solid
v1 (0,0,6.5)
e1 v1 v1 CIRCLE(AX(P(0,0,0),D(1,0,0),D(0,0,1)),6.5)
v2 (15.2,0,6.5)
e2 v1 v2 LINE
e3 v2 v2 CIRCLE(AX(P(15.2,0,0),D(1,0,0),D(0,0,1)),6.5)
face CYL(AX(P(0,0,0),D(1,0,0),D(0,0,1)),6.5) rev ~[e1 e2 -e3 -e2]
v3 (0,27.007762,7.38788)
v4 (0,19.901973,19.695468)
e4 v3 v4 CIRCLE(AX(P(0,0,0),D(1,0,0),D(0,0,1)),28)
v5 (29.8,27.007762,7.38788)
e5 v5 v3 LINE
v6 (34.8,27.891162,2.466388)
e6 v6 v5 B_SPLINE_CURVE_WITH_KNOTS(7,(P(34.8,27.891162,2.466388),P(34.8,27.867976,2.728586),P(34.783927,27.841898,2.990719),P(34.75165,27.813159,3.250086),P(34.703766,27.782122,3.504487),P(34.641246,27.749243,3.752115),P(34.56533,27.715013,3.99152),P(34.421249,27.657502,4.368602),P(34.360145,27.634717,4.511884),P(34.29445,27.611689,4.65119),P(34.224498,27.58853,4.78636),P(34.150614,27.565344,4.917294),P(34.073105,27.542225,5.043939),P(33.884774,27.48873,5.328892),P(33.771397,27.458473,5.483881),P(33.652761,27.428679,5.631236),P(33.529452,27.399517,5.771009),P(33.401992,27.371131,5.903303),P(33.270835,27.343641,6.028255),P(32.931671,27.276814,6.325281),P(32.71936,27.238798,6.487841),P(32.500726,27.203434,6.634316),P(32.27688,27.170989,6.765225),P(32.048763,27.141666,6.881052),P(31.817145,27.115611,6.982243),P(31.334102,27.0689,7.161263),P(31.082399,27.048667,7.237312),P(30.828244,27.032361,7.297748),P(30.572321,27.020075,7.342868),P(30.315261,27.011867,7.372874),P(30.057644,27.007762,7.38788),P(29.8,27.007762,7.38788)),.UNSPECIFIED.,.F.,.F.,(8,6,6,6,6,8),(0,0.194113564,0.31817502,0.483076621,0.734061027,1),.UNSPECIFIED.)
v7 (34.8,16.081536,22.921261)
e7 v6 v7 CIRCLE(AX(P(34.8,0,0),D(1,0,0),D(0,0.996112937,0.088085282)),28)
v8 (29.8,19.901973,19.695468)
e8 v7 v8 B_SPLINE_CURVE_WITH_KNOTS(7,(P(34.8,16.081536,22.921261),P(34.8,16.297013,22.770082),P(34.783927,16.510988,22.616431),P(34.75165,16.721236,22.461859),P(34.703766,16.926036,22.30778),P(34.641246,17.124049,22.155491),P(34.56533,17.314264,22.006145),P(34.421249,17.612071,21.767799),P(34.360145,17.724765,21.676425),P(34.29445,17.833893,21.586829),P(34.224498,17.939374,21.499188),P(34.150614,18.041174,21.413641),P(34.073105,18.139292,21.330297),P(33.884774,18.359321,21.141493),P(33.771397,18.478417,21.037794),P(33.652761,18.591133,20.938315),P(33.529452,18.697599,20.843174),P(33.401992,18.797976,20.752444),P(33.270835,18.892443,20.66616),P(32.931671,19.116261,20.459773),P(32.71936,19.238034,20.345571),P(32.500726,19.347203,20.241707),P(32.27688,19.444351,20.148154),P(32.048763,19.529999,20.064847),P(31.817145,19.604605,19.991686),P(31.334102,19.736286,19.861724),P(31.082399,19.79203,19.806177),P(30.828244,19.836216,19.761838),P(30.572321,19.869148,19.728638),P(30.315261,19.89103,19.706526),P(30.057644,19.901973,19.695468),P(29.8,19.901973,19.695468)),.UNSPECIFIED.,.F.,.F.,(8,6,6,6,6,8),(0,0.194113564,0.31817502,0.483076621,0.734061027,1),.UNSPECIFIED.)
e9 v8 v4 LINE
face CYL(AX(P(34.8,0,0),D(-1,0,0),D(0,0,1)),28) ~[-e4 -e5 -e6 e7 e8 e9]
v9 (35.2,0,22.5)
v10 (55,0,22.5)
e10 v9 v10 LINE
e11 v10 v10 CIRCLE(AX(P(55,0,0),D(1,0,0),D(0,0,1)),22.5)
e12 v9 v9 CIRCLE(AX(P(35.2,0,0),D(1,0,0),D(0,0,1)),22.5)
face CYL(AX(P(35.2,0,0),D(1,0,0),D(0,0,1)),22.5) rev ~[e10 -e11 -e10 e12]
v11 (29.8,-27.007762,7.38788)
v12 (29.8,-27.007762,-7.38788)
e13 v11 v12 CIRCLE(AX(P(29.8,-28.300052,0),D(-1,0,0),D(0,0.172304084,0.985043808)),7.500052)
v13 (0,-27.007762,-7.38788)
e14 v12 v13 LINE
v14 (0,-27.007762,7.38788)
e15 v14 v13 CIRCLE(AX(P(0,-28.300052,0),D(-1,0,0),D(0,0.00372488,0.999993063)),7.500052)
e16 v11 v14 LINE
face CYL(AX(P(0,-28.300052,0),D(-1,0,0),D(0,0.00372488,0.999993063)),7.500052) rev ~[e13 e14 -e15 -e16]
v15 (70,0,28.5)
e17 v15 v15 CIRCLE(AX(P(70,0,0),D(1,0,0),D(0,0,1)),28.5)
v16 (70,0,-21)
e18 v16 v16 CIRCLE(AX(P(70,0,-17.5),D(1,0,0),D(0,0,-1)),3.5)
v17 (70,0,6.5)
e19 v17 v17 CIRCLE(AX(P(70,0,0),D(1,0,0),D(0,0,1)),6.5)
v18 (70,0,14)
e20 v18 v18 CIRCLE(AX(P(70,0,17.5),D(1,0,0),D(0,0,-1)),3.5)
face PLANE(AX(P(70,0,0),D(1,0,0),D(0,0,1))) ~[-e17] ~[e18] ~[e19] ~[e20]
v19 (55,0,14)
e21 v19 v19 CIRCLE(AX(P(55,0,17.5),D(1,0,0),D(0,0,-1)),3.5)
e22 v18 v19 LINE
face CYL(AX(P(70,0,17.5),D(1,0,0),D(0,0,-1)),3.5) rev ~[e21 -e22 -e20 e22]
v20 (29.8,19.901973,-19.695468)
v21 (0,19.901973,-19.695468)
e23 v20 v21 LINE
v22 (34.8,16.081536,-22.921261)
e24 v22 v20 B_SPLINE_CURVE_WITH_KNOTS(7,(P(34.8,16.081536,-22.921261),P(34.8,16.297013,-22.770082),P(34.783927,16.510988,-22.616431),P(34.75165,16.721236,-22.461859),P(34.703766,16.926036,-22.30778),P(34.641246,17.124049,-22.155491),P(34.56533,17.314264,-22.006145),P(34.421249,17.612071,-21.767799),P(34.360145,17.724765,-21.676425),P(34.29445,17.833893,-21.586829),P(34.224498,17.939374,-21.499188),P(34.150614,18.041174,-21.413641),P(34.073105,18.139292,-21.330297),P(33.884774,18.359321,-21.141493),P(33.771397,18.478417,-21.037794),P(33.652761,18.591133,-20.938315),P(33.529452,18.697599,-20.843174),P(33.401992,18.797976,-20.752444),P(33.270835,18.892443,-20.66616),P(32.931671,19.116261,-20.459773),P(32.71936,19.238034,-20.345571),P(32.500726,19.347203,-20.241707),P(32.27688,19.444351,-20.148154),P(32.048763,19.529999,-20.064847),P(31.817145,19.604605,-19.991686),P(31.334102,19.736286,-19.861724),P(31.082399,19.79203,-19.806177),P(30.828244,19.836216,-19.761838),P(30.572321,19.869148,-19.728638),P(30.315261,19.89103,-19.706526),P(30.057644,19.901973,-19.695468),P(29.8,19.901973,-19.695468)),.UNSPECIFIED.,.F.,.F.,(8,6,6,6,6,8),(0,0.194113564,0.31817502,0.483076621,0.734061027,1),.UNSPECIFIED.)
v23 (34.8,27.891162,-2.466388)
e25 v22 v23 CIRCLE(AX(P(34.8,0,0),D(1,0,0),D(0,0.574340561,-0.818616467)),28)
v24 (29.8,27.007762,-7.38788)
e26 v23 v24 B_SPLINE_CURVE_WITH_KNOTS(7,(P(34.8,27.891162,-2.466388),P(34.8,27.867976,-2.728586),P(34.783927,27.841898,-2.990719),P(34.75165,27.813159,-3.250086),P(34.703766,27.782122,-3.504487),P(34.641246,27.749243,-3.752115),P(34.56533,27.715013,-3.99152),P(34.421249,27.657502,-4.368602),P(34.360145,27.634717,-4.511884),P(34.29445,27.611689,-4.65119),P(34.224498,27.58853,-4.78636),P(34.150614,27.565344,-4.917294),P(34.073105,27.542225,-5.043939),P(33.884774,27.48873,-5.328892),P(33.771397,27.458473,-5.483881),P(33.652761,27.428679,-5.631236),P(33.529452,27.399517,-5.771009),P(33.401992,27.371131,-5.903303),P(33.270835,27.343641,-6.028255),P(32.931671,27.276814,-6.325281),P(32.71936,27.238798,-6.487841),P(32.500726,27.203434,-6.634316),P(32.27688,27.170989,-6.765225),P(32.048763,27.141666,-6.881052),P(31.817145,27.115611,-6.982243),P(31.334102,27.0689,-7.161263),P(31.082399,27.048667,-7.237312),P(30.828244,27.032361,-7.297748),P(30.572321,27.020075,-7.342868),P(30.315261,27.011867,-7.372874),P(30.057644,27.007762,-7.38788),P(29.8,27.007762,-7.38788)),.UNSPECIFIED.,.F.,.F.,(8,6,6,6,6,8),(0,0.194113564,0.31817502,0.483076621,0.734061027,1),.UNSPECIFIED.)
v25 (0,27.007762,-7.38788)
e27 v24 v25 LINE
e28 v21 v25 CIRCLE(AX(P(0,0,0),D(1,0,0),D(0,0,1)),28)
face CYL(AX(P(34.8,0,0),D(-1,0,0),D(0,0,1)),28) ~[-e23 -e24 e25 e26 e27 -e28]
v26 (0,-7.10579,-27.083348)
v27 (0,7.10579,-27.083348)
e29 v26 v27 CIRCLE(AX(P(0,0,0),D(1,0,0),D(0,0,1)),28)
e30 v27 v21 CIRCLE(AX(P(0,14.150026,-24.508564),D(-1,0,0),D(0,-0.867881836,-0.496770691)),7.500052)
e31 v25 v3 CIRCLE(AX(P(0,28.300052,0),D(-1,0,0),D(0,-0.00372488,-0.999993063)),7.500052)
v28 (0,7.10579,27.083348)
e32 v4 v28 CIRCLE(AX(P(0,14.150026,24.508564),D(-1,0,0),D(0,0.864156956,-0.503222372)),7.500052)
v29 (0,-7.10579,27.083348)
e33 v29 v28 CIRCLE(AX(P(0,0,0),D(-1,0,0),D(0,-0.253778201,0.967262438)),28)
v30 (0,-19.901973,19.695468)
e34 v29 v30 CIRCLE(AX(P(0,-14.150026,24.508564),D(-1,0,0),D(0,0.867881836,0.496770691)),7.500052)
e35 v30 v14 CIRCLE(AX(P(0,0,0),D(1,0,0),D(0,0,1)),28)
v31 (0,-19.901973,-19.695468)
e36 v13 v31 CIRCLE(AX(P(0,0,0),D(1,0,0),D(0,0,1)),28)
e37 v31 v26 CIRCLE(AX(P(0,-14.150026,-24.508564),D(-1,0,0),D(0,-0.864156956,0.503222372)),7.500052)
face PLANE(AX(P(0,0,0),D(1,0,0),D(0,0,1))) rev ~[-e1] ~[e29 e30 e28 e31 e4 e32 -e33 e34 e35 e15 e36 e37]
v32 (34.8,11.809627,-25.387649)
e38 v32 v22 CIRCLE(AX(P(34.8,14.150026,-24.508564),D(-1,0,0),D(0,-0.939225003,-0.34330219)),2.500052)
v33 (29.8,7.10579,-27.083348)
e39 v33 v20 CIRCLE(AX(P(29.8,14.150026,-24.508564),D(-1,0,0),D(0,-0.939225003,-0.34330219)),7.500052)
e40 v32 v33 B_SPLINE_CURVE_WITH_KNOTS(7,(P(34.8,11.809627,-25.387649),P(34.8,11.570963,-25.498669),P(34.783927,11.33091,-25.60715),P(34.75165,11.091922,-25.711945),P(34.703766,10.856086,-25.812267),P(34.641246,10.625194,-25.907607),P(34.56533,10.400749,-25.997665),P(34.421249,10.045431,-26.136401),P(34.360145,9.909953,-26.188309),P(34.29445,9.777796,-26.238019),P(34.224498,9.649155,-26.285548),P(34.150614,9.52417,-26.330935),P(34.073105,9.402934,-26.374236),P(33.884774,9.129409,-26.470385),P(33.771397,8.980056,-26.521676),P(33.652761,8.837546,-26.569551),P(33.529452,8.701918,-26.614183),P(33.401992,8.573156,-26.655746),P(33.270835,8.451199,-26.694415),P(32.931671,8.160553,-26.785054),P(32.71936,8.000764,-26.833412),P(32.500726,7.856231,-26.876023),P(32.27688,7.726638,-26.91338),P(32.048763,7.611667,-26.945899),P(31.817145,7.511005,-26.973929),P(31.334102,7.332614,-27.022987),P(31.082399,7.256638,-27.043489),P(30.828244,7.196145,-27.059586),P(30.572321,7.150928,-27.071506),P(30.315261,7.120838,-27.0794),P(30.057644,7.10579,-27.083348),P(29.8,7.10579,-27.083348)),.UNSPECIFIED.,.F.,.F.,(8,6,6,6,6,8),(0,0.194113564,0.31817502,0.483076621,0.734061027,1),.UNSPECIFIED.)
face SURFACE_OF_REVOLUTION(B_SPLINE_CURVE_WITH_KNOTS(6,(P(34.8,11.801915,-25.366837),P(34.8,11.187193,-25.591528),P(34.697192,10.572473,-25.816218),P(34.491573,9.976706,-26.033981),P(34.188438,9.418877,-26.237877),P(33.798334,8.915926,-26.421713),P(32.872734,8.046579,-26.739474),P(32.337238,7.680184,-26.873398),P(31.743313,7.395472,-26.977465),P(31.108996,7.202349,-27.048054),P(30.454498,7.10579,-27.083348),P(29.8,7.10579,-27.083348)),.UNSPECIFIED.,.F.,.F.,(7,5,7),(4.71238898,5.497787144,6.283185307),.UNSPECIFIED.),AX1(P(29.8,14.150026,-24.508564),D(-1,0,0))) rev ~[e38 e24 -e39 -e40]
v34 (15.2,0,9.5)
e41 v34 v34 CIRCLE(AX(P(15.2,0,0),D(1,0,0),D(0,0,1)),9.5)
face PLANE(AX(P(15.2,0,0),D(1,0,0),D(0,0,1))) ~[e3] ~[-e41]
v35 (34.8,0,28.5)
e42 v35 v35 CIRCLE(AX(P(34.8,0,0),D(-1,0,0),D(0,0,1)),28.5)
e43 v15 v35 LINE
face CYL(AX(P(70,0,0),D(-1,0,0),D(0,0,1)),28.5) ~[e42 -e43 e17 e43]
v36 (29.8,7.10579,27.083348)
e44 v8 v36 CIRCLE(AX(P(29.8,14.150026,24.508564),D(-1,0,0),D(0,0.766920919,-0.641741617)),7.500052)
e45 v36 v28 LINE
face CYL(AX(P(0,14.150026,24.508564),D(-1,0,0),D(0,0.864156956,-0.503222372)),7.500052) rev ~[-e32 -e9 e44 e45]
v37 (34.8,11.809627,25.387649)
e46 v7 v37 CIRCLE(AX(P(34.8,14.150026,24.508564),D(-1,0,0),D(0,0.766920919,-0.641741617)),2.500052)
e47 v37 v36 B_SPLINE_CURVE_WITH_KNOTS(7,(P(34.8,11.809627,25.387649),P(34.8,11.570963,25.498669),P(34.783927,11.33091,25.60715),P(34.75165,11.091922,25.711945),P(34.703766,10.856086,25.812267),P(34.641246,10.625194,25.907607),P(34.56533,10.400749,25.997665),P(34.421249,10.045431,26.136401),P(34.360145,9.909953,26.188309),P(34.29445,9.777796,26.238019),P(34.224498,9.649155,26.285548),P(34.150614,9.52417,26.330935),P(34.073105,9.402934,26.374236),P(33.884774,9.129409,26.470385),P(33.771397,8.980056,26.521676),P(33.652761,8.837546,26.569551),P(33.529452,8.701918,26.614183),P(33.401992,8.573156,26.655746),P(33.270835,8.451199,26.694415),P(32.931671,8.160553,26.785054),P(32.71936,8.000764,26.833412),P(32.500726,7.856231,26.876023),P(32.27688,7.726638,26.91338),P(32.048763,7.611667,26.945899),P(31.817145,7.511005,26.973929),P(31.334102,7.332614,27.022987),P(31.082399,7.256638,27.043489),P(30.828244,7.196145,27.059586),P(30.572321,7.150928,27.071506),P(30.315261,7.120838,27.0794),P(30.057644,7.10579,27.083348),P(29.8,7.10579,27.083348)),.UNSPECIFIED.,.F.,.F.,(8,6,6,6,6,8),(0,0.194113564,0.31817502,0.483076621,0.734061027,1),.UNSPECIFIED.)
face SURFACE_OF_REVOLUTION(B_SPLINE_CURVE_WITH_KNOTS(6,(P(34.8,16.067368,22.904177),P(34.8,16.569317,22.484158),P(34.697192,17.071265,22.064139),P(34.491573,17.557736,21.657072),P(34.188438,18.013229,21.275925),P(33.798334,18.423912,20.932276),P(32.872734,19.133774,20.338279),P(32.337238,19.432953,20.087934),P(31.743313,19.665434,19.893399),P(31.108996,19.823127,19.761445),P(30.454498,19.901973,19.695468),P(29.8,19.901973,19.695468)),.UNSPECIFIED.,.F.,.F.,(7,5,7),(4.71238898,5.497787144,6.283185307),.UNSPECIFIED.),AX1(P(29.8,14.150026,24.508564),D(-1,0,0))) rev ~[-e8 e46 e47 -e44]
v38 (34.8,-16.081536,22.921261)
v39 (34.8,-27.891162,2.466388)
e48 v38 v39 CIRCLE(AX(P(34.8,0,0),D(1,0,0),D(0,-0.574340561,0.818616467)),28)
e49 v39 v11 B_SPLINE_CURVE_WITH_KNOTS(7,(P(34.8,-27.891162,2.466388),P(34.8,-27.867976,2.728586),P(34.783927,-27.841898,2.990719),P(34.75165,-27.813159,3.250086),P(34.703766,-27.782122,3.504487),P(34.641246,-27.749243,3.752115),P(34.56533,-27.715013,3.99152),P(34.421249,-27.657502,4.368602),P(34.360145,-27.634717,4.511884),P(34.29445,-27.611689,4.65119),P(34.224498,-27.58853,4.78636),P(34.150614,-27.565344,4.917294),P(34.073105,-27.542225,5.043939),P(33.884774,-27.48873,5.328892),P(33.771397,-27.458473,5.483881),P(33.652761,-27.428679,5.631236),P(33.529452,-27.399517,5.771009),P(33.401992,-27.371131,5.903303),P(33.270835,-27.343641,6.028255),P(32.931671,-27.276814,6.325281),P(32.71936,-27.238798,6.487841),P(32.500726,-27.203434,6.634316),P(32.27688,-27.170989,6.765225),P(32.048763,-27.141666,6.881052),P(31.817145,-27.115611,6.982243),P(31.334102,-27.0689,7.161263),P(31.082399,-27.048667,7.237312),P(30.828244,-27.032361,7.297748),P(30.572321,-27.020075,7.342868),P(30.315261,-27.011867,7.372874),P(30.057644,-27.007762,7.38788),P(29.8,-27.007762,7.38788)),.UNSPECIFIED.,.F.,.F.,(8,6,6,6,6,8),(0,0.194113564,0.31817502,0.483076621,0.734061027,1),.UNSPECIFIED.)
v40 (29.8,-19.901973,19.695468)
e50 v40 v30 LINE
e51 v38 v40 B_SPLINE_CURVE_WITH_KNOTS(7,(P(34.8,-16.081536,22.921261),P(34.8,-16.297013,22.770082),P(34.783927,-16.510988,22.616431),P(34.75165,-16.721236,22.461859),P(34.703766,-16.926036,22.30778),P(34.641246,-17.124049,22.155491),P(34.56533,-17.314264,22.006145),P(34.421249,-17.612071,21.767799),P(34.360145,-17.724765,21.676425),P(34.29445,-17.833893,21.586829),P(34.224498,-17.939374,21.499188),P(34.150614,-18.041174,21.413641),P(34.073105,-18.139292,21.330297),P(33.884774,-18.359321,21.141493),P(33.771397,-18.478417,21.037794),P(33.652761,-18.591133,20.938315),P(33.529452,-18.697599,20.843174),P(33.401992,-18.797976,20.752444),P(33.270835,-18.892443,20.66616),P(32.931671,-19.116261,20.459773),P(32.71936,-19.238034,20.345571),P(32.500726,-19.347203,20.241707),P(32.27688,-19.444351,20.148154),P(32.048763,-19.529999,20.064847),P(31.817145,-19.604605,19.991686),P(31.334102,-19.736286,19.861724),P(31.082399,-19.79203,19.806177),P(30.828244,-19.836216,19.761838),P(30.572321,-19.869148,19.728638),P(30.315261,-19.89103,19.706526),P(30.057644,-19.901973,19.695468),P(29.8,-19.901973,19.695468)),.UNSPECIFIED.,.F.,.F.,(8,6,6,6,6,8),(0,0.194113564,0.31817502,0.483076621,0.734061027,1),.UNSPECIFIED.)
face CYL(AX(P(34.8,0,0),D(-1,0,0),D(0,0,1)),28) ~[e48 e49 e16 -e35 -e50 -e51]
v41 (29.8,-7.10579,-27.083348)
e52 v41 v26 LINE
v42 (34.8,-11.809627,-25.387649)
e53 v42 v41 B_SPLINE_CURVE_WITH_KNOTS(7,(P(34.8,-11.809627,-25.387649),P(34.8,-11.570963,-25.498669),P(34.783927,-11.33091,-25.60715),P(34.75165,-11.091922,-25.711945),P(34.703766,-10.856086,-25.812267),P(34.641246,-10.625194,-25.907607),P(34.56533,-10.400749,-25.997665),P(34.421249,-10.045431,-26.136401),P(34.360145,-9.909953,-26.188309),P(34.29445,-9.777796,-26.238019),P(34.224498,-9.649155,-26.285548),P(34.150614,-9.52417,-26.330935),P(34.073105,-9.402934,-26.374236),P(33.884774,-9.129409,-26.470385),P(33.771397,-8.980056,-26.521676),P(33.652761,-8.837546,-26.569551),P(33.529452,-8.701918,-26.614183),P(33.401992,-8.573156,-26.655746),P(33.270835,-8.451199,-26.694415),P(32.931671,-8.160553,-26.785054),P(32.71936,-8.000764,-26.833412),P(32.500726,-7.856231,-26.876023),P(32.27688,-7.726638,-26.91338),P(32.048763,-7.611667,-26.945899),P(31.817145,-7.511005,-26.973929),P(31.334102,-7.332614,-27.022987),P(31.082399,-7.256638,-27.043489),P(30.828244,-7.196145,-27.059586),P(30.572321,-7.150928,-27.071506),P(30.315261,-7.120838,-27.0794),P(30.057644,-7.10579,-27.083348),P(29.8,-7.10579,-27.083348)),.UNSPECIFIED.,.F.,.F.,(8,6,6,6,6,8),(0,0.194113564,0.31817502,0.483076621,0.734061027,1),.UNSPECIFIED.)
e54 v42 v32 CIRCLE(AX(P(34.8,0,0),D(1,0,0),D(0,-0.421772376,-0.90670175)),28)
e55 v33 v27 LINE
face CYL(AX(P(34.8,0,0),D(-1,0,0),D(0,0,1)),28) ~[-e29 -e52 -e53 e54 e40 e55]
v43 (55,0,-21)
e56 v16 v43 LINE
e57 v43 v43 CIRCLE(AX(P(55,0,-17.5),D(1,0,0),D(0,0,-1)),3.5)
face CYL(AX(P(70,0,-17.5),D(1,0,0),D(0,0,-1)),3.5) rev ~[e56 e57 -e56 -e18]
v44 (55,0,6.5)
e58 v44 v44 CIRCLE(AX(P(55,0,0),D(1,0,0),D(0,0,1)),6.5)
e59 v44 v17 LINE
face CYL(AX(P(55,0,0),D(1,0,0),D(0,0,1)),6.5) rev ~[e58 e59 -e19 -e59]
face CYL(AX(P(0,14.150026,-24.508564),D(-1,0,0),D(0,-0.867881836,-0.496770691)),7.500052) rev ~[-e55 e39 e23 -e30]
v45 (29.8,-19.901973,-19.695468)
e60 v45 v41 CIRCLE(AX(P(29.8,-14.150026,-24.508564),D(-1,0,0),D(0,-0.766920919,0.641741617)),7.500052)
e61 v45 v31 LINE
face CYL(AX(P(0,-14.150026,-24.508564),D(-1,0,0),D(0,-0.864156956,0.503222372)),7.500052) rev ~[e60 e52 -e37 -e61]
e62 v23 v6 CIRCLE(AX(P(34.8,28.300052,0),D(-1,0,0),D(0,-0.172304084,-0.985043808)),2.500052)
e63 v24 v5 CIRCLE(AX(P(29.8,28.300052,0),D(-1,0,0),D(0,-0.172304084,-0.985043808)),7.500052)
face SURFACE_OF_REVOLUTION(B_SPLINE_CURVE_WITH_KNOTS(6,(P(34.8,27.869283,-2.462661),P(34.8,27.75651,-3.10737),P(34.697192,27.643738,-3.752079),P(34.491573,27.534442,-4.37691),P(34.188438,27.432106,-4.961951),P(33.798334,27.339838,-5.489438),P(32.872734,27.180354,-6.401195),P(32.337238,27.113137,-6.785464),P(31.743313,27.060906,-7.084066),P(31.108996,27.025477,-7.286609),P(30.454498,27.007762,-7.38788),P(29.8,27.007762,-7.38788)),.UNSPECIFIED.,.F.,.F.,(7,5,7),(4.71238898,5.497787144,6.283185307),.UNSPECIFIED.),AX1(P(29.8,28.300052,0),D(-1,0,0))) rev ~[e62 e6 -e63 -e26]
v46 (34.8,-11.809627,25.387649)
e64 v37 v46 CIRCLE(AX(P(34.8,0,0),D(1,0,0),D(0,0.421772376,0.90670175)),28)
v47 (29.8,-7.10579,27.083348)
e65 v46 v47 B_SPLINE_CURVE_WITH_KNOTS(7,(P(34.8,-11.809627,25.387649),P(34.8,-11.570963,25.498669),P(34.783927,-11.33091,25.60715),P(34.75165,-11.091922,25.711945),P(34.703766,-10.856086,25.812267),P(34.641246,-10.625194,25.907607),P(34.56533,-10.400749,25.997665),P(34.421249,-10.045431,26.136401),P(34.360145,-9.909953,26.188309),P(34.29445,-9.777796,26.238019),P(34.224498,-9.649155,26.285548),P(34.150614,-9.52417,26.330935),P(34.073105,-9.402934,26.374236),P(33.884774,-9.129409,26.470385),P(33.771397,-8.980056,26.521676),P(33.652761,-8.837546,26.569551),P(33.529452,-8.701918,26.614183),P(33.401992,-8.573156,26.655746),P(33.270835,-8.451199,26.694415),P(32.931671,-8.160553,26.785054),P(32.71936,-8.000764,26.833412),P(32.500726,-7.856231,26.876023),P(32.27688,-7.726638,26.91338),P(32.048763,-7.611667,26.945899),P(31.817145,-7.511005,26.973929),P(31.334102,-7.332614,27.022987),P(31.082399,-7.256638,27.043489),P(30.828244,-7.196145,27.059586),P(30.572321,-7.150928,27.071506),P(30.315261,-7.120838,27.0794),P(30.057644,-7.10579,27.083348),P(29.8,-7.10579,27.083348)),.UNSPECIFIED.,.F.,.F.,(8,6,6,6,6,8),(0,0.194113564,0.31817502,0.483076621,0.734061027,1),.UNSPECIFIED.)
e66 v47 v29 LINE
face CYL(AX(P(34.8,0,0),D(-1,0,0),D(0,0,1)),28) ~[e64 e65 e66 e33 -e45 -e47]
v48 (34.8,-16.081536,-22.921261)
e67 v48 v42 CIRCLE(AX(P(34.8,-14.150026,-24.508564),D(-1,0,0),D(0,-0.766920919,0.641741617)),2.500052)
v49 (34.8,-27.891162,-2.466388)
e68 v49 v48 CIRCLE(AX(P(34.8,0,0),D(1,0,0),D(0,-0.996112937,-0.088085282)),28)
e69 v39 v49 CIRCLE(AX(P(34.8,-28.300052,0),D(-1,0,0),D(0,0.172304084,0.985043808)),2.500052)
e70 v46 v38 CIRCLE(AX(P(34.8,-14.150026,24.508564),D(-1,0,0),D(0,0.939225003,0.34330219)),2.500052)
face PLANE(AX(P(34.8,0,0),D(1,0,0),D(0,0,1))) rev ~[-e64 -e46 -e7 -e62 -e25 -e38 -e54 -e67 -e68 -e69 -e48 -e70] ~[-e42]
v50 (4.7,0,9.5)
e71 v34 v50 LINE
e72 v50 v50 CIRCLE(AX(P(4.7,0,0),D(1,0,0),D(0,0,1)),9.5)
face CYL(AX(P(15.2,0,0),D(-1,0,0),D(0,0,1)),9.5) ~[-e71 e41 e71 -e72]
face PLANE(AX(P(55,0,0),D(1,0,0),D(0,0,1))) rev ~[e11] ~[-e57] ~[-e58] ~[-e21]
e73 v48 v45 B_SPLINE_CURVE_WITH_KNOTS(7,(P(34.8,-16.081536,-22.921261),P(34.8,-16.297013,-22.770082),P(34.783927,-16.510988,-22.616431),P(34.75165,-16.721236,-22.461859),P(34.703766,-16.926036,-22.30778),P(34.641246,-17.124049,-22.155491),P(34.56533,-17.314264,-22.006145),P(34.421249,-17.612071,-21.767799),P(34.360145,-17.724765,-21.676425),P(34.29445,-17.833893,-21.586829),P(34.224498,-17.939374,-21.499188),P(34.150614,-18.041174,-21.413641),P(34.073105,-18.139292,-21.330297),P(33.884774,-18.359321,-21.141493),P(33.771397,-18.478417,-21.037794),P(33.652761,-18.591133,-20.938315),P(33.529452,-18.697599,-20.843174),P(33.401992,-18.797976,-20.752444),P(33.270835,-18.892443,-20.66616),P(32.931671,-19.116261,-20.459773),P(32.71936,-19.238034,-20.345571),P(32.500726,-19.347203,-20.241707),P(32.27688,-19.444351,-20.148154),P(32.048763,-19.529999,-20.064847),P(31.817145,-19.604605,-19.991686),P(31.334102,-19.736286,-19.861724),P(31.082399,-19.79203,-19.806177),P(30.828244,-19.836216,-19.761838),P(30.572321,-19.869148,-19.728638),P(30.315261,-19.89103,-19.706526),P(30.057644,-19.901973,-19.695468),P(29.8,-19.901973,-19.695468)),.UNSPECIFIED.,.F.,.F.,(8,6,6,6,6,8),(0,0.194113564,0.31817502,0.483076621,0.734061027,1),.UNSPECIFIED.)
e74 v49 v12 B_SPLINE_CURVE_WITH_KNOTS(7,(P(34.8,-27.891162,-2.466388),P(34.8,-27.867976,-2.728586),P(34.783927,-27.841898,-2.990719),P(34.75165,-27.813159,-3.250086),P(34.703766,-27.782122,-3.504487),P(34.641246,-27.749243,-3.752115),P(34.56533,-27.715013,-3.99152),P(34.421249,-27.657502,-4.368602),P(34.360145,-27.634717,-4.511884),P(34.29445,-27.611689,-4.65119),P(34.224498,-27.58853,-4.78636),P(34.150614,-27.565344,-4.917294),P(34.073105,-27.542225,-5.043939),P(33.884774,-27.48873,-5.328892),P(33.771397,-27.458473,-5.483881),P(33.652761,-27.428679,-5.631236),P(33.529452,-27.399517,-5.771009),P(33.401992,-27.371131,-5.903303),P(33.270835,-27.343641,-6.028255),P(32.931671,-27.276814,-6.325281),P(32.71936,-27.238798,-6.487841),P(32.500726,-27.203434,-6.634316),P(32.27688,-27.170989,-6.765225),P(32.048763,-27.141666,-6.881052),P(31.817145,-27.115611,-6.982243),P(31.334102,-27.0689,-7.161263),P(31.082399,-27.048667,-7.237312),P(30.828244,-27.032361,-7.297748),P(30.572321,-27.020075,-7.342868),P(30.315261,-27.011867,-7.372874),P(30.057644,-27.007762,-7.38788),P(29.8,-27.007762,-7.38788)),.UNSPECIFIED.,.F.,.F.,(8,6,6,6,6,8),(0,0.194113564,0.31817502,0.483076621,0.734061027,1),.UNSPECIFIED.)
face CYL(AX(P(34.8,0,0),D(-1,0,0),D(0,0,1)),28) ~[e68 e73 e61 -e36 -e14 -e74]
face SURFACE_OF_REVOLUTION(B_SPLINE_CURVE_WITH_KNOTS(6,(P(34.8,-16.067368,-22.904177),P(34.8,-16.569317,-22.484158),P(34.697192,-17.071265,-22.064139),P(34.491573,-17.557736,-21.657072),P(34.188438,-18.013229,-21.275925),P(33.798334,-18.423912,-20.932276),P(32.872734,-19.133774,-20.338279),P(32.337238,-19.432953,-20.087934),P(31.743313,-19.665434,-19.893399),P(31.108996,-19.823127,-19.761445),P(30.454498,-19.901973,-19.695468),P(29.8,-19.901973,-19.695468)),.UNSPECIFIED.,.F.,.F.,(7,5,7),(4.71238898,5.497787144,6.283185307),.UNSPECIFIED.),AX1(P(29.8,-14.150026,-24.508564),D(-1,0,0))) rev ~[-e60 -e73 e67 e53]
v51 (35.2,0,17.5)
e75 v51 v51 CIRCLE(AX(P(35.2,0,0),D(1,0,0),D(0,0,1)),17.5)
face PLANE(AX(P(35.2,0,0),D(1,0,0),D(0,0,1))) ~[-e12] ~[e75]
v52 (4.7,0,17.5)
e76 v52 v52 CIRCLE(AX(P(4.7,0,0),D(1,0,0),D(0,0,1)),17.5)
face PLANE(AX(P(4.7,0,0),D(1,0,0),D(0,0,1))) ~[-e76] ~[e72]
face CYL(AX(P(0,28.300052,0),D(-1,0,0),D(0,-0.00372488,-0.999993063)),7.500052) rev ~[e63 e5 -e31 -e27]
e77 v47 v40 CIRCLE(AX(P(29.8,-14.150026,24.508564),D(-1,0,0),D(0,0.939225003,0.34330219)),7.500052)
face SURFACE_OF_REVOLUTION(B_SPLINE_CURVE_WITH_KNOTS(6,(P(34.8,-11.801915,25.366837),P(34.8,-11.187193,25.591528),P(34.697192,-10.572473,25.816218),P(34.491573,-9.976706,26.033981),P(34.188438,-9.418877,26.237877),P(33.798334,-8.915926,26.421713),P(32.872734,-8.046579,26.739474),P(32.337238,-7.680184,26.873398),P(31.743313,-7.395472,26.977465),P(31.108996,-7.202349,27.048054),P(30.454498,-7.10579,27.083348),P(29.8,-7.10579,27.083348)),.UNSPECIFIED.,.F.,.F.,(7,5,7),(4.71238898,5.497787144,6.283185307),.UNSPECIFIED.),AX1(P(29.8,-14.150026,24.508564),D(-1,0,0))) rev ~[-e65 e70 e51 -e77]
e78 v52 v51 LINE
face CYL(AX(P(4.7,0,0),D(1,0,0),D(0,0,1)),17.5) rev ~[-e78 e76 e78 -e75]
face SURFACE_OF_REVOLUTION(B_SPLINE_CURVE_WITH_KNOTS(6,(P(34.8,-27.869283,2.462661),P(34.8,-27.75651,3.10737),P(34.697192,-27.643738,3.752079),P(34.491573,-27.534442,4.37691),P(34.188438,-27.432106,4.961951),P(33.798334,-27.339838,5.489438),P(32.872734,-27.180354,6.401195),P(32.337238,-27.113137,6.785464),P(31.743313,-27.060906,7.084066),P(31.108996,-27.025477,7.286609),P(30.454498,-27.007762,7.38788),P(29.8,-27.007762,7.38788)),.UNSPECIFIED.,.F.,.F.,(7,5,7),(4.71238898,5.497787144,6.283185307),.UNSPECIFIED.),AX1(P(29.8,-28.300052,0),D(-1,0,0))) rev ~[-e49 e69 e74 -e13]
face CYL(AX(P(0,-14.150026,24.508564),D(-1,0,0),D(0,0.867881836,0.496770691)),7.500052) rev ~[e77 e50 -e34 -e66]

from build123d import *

# Parameters (mm, degrees)
CUT_EXTRUDE_1_DEPTH = 34.8
FILLET_1_R          = 5
CUT_EXTRUDE_2_REACH = 82.774
SKETCH_3_R          = 3.5


with BuildPart() as part:
    # Эскиз1 → Повернуть1 (revolve)
    with BuildSketch(Plane.XY, mode=Mode.PRIVATE) as revolve_1_sk:
        Polygon((0, 6.5), (15.2, 6.5), (15.2, 9.5), (4.7, 9.5), (4.7, 17.5), (35.2, 17.5), (35.2, 22.5), (55, 22.5), (55, 6.5), (70, 6.5), (70, 28.5), (34.8, 28.5), (34.8, 28), (0, 28), align=None)
    revolve(revolve_1_sk.sketch.rotate(Axis((-15.709814328, 0, 0), (1, 0, 0)), 90), axis=Axis((-15.709814328, 0, 0), (1, 0, 0)))

    # Эскиз2 → Вырез-Вытянуть1 (cut)
    with BuildSketch(Plane.ZY):
        with BuildLine():
            ThreePointArc((-7.5, 28.272115237), (0, 20.8), (7.5, 28.272115237))
            ThreePointArc((7.5, 28.272115237), (0, 29.25), (-7.5, 28.272115237))
        make_face()
        with BuildLine():
            ThreePointArc((20.734370014, 20.631248147), (18.013328399, 10.4), (28.234370014, 7.64086709))
            ThreePointArc((28.234370014, 7.64086709), (25.331243061, 14.625), (20.734370014, 20.631248147))
        make_face()
        with BuildLine():
            ThreePointArc((28.234370014, -7.64086709), (18.013328399, -10.4), (20.734370014, -20.631248147))
            ThreePointArc((20.734370014, -20.631248147), (25.331243061, -14.625), (28.234370014, -7.64086709))
        make_face()
        with BuildLine():
            ThreePointArc((7.5, -28.272115237), (0, -20.8), (-7.5, -28.272115237))
            ThreePointArc((-7.5, -28.272115237), (0, -29.25), (7.5, -28.272115237))
        make_face()
        with BuildLine():
            ThreePointArc((-20.734370014, -20.631248147), (-18.013328399, -10.4), (-28.234370014, -7.64086709))
            ThreePointArc((-28.234370014, -7.64086709), (-25.331243061, -14.625), (-20.734370014, -20.631248147))
        make_face()
        with BuildLine():
            ThreePointArc((-28.234370014, 7.64086709), (-18.013328399, 10.4), (-20.734370014, 20.631248147))
            ThreePointArc((-20.734370014, 20.631248147), (-25.331243061, 14.625), (-28.234370014, 7.64086709))
        make_face()
    extrude(amount=-CUT_EXTRUDE_1_DEPTH, mode=Mode.SUBTRACT)

    # Скругление1
    fillet_1_edges = [part.edges().sort_by_distance(p)[0] for p in [
        (34.8, 20.8, 0),
        (34.8, 10.4, 18.013328399),
        (34.8, -10.4, 18.013328399),
        (34.8, -20.8, 0),
        (34.8, -10.4, -18.013328399),
        (34.8, 10.4, -18.013328399),
    ]]
    fillet(fillet_1_edges, radius=FILLET_1_R)

    # Эскиз3 → Вырез-Вытянуть2 (cut, up to next)
    with BuildSketch(Plane(origin=(70, 0, 0), x_dir=(0, 0, -1), z_dir=(1, 0, 0)), mode=Mode.PRIVATE) as cut_extrude_2_sk1:
        with Locations((-17.5, 0)):
            Circle(SKETCH_3_R)
    cut_extrude_2_tool1 = extrude(cut_extrude_2_sk1.sketch, amount=-CUT_EXTRUDE_2_REACH, mode=Mode.PRIVATE) & part.part
    # Эскиз3 → Вырез-Вытянуть2 (cut, up to next)
    with BuildSketch(Plane(origin=(70, 0, 0), x_dir=(0, 0, -1), z_dir=(1, 0, 0)), mode=Mode.PRIVATE) as cut_extrude_2_sk2:
        with Locations((17.5, 0)):
            Circle(SKETCH_3_R)
    cut_extrude_2_tool2 = extrude(cut_extrude_2_sk2.sketch, amount=-CUT_EXTRUDE_2_REACH, mode=Mode.PRIVATE) & part.part
    add(cut_extrude_2_tool1.solids().sort_by_distance((70, 0, 17.5))[0], mode=Mode.SUBTRACT)
    add(cut_extrude_2_tool2.solids().sort_by_distance((70, 0, -17.5))[0], mode=Mode.SUBTRACT)


solid = part.part
